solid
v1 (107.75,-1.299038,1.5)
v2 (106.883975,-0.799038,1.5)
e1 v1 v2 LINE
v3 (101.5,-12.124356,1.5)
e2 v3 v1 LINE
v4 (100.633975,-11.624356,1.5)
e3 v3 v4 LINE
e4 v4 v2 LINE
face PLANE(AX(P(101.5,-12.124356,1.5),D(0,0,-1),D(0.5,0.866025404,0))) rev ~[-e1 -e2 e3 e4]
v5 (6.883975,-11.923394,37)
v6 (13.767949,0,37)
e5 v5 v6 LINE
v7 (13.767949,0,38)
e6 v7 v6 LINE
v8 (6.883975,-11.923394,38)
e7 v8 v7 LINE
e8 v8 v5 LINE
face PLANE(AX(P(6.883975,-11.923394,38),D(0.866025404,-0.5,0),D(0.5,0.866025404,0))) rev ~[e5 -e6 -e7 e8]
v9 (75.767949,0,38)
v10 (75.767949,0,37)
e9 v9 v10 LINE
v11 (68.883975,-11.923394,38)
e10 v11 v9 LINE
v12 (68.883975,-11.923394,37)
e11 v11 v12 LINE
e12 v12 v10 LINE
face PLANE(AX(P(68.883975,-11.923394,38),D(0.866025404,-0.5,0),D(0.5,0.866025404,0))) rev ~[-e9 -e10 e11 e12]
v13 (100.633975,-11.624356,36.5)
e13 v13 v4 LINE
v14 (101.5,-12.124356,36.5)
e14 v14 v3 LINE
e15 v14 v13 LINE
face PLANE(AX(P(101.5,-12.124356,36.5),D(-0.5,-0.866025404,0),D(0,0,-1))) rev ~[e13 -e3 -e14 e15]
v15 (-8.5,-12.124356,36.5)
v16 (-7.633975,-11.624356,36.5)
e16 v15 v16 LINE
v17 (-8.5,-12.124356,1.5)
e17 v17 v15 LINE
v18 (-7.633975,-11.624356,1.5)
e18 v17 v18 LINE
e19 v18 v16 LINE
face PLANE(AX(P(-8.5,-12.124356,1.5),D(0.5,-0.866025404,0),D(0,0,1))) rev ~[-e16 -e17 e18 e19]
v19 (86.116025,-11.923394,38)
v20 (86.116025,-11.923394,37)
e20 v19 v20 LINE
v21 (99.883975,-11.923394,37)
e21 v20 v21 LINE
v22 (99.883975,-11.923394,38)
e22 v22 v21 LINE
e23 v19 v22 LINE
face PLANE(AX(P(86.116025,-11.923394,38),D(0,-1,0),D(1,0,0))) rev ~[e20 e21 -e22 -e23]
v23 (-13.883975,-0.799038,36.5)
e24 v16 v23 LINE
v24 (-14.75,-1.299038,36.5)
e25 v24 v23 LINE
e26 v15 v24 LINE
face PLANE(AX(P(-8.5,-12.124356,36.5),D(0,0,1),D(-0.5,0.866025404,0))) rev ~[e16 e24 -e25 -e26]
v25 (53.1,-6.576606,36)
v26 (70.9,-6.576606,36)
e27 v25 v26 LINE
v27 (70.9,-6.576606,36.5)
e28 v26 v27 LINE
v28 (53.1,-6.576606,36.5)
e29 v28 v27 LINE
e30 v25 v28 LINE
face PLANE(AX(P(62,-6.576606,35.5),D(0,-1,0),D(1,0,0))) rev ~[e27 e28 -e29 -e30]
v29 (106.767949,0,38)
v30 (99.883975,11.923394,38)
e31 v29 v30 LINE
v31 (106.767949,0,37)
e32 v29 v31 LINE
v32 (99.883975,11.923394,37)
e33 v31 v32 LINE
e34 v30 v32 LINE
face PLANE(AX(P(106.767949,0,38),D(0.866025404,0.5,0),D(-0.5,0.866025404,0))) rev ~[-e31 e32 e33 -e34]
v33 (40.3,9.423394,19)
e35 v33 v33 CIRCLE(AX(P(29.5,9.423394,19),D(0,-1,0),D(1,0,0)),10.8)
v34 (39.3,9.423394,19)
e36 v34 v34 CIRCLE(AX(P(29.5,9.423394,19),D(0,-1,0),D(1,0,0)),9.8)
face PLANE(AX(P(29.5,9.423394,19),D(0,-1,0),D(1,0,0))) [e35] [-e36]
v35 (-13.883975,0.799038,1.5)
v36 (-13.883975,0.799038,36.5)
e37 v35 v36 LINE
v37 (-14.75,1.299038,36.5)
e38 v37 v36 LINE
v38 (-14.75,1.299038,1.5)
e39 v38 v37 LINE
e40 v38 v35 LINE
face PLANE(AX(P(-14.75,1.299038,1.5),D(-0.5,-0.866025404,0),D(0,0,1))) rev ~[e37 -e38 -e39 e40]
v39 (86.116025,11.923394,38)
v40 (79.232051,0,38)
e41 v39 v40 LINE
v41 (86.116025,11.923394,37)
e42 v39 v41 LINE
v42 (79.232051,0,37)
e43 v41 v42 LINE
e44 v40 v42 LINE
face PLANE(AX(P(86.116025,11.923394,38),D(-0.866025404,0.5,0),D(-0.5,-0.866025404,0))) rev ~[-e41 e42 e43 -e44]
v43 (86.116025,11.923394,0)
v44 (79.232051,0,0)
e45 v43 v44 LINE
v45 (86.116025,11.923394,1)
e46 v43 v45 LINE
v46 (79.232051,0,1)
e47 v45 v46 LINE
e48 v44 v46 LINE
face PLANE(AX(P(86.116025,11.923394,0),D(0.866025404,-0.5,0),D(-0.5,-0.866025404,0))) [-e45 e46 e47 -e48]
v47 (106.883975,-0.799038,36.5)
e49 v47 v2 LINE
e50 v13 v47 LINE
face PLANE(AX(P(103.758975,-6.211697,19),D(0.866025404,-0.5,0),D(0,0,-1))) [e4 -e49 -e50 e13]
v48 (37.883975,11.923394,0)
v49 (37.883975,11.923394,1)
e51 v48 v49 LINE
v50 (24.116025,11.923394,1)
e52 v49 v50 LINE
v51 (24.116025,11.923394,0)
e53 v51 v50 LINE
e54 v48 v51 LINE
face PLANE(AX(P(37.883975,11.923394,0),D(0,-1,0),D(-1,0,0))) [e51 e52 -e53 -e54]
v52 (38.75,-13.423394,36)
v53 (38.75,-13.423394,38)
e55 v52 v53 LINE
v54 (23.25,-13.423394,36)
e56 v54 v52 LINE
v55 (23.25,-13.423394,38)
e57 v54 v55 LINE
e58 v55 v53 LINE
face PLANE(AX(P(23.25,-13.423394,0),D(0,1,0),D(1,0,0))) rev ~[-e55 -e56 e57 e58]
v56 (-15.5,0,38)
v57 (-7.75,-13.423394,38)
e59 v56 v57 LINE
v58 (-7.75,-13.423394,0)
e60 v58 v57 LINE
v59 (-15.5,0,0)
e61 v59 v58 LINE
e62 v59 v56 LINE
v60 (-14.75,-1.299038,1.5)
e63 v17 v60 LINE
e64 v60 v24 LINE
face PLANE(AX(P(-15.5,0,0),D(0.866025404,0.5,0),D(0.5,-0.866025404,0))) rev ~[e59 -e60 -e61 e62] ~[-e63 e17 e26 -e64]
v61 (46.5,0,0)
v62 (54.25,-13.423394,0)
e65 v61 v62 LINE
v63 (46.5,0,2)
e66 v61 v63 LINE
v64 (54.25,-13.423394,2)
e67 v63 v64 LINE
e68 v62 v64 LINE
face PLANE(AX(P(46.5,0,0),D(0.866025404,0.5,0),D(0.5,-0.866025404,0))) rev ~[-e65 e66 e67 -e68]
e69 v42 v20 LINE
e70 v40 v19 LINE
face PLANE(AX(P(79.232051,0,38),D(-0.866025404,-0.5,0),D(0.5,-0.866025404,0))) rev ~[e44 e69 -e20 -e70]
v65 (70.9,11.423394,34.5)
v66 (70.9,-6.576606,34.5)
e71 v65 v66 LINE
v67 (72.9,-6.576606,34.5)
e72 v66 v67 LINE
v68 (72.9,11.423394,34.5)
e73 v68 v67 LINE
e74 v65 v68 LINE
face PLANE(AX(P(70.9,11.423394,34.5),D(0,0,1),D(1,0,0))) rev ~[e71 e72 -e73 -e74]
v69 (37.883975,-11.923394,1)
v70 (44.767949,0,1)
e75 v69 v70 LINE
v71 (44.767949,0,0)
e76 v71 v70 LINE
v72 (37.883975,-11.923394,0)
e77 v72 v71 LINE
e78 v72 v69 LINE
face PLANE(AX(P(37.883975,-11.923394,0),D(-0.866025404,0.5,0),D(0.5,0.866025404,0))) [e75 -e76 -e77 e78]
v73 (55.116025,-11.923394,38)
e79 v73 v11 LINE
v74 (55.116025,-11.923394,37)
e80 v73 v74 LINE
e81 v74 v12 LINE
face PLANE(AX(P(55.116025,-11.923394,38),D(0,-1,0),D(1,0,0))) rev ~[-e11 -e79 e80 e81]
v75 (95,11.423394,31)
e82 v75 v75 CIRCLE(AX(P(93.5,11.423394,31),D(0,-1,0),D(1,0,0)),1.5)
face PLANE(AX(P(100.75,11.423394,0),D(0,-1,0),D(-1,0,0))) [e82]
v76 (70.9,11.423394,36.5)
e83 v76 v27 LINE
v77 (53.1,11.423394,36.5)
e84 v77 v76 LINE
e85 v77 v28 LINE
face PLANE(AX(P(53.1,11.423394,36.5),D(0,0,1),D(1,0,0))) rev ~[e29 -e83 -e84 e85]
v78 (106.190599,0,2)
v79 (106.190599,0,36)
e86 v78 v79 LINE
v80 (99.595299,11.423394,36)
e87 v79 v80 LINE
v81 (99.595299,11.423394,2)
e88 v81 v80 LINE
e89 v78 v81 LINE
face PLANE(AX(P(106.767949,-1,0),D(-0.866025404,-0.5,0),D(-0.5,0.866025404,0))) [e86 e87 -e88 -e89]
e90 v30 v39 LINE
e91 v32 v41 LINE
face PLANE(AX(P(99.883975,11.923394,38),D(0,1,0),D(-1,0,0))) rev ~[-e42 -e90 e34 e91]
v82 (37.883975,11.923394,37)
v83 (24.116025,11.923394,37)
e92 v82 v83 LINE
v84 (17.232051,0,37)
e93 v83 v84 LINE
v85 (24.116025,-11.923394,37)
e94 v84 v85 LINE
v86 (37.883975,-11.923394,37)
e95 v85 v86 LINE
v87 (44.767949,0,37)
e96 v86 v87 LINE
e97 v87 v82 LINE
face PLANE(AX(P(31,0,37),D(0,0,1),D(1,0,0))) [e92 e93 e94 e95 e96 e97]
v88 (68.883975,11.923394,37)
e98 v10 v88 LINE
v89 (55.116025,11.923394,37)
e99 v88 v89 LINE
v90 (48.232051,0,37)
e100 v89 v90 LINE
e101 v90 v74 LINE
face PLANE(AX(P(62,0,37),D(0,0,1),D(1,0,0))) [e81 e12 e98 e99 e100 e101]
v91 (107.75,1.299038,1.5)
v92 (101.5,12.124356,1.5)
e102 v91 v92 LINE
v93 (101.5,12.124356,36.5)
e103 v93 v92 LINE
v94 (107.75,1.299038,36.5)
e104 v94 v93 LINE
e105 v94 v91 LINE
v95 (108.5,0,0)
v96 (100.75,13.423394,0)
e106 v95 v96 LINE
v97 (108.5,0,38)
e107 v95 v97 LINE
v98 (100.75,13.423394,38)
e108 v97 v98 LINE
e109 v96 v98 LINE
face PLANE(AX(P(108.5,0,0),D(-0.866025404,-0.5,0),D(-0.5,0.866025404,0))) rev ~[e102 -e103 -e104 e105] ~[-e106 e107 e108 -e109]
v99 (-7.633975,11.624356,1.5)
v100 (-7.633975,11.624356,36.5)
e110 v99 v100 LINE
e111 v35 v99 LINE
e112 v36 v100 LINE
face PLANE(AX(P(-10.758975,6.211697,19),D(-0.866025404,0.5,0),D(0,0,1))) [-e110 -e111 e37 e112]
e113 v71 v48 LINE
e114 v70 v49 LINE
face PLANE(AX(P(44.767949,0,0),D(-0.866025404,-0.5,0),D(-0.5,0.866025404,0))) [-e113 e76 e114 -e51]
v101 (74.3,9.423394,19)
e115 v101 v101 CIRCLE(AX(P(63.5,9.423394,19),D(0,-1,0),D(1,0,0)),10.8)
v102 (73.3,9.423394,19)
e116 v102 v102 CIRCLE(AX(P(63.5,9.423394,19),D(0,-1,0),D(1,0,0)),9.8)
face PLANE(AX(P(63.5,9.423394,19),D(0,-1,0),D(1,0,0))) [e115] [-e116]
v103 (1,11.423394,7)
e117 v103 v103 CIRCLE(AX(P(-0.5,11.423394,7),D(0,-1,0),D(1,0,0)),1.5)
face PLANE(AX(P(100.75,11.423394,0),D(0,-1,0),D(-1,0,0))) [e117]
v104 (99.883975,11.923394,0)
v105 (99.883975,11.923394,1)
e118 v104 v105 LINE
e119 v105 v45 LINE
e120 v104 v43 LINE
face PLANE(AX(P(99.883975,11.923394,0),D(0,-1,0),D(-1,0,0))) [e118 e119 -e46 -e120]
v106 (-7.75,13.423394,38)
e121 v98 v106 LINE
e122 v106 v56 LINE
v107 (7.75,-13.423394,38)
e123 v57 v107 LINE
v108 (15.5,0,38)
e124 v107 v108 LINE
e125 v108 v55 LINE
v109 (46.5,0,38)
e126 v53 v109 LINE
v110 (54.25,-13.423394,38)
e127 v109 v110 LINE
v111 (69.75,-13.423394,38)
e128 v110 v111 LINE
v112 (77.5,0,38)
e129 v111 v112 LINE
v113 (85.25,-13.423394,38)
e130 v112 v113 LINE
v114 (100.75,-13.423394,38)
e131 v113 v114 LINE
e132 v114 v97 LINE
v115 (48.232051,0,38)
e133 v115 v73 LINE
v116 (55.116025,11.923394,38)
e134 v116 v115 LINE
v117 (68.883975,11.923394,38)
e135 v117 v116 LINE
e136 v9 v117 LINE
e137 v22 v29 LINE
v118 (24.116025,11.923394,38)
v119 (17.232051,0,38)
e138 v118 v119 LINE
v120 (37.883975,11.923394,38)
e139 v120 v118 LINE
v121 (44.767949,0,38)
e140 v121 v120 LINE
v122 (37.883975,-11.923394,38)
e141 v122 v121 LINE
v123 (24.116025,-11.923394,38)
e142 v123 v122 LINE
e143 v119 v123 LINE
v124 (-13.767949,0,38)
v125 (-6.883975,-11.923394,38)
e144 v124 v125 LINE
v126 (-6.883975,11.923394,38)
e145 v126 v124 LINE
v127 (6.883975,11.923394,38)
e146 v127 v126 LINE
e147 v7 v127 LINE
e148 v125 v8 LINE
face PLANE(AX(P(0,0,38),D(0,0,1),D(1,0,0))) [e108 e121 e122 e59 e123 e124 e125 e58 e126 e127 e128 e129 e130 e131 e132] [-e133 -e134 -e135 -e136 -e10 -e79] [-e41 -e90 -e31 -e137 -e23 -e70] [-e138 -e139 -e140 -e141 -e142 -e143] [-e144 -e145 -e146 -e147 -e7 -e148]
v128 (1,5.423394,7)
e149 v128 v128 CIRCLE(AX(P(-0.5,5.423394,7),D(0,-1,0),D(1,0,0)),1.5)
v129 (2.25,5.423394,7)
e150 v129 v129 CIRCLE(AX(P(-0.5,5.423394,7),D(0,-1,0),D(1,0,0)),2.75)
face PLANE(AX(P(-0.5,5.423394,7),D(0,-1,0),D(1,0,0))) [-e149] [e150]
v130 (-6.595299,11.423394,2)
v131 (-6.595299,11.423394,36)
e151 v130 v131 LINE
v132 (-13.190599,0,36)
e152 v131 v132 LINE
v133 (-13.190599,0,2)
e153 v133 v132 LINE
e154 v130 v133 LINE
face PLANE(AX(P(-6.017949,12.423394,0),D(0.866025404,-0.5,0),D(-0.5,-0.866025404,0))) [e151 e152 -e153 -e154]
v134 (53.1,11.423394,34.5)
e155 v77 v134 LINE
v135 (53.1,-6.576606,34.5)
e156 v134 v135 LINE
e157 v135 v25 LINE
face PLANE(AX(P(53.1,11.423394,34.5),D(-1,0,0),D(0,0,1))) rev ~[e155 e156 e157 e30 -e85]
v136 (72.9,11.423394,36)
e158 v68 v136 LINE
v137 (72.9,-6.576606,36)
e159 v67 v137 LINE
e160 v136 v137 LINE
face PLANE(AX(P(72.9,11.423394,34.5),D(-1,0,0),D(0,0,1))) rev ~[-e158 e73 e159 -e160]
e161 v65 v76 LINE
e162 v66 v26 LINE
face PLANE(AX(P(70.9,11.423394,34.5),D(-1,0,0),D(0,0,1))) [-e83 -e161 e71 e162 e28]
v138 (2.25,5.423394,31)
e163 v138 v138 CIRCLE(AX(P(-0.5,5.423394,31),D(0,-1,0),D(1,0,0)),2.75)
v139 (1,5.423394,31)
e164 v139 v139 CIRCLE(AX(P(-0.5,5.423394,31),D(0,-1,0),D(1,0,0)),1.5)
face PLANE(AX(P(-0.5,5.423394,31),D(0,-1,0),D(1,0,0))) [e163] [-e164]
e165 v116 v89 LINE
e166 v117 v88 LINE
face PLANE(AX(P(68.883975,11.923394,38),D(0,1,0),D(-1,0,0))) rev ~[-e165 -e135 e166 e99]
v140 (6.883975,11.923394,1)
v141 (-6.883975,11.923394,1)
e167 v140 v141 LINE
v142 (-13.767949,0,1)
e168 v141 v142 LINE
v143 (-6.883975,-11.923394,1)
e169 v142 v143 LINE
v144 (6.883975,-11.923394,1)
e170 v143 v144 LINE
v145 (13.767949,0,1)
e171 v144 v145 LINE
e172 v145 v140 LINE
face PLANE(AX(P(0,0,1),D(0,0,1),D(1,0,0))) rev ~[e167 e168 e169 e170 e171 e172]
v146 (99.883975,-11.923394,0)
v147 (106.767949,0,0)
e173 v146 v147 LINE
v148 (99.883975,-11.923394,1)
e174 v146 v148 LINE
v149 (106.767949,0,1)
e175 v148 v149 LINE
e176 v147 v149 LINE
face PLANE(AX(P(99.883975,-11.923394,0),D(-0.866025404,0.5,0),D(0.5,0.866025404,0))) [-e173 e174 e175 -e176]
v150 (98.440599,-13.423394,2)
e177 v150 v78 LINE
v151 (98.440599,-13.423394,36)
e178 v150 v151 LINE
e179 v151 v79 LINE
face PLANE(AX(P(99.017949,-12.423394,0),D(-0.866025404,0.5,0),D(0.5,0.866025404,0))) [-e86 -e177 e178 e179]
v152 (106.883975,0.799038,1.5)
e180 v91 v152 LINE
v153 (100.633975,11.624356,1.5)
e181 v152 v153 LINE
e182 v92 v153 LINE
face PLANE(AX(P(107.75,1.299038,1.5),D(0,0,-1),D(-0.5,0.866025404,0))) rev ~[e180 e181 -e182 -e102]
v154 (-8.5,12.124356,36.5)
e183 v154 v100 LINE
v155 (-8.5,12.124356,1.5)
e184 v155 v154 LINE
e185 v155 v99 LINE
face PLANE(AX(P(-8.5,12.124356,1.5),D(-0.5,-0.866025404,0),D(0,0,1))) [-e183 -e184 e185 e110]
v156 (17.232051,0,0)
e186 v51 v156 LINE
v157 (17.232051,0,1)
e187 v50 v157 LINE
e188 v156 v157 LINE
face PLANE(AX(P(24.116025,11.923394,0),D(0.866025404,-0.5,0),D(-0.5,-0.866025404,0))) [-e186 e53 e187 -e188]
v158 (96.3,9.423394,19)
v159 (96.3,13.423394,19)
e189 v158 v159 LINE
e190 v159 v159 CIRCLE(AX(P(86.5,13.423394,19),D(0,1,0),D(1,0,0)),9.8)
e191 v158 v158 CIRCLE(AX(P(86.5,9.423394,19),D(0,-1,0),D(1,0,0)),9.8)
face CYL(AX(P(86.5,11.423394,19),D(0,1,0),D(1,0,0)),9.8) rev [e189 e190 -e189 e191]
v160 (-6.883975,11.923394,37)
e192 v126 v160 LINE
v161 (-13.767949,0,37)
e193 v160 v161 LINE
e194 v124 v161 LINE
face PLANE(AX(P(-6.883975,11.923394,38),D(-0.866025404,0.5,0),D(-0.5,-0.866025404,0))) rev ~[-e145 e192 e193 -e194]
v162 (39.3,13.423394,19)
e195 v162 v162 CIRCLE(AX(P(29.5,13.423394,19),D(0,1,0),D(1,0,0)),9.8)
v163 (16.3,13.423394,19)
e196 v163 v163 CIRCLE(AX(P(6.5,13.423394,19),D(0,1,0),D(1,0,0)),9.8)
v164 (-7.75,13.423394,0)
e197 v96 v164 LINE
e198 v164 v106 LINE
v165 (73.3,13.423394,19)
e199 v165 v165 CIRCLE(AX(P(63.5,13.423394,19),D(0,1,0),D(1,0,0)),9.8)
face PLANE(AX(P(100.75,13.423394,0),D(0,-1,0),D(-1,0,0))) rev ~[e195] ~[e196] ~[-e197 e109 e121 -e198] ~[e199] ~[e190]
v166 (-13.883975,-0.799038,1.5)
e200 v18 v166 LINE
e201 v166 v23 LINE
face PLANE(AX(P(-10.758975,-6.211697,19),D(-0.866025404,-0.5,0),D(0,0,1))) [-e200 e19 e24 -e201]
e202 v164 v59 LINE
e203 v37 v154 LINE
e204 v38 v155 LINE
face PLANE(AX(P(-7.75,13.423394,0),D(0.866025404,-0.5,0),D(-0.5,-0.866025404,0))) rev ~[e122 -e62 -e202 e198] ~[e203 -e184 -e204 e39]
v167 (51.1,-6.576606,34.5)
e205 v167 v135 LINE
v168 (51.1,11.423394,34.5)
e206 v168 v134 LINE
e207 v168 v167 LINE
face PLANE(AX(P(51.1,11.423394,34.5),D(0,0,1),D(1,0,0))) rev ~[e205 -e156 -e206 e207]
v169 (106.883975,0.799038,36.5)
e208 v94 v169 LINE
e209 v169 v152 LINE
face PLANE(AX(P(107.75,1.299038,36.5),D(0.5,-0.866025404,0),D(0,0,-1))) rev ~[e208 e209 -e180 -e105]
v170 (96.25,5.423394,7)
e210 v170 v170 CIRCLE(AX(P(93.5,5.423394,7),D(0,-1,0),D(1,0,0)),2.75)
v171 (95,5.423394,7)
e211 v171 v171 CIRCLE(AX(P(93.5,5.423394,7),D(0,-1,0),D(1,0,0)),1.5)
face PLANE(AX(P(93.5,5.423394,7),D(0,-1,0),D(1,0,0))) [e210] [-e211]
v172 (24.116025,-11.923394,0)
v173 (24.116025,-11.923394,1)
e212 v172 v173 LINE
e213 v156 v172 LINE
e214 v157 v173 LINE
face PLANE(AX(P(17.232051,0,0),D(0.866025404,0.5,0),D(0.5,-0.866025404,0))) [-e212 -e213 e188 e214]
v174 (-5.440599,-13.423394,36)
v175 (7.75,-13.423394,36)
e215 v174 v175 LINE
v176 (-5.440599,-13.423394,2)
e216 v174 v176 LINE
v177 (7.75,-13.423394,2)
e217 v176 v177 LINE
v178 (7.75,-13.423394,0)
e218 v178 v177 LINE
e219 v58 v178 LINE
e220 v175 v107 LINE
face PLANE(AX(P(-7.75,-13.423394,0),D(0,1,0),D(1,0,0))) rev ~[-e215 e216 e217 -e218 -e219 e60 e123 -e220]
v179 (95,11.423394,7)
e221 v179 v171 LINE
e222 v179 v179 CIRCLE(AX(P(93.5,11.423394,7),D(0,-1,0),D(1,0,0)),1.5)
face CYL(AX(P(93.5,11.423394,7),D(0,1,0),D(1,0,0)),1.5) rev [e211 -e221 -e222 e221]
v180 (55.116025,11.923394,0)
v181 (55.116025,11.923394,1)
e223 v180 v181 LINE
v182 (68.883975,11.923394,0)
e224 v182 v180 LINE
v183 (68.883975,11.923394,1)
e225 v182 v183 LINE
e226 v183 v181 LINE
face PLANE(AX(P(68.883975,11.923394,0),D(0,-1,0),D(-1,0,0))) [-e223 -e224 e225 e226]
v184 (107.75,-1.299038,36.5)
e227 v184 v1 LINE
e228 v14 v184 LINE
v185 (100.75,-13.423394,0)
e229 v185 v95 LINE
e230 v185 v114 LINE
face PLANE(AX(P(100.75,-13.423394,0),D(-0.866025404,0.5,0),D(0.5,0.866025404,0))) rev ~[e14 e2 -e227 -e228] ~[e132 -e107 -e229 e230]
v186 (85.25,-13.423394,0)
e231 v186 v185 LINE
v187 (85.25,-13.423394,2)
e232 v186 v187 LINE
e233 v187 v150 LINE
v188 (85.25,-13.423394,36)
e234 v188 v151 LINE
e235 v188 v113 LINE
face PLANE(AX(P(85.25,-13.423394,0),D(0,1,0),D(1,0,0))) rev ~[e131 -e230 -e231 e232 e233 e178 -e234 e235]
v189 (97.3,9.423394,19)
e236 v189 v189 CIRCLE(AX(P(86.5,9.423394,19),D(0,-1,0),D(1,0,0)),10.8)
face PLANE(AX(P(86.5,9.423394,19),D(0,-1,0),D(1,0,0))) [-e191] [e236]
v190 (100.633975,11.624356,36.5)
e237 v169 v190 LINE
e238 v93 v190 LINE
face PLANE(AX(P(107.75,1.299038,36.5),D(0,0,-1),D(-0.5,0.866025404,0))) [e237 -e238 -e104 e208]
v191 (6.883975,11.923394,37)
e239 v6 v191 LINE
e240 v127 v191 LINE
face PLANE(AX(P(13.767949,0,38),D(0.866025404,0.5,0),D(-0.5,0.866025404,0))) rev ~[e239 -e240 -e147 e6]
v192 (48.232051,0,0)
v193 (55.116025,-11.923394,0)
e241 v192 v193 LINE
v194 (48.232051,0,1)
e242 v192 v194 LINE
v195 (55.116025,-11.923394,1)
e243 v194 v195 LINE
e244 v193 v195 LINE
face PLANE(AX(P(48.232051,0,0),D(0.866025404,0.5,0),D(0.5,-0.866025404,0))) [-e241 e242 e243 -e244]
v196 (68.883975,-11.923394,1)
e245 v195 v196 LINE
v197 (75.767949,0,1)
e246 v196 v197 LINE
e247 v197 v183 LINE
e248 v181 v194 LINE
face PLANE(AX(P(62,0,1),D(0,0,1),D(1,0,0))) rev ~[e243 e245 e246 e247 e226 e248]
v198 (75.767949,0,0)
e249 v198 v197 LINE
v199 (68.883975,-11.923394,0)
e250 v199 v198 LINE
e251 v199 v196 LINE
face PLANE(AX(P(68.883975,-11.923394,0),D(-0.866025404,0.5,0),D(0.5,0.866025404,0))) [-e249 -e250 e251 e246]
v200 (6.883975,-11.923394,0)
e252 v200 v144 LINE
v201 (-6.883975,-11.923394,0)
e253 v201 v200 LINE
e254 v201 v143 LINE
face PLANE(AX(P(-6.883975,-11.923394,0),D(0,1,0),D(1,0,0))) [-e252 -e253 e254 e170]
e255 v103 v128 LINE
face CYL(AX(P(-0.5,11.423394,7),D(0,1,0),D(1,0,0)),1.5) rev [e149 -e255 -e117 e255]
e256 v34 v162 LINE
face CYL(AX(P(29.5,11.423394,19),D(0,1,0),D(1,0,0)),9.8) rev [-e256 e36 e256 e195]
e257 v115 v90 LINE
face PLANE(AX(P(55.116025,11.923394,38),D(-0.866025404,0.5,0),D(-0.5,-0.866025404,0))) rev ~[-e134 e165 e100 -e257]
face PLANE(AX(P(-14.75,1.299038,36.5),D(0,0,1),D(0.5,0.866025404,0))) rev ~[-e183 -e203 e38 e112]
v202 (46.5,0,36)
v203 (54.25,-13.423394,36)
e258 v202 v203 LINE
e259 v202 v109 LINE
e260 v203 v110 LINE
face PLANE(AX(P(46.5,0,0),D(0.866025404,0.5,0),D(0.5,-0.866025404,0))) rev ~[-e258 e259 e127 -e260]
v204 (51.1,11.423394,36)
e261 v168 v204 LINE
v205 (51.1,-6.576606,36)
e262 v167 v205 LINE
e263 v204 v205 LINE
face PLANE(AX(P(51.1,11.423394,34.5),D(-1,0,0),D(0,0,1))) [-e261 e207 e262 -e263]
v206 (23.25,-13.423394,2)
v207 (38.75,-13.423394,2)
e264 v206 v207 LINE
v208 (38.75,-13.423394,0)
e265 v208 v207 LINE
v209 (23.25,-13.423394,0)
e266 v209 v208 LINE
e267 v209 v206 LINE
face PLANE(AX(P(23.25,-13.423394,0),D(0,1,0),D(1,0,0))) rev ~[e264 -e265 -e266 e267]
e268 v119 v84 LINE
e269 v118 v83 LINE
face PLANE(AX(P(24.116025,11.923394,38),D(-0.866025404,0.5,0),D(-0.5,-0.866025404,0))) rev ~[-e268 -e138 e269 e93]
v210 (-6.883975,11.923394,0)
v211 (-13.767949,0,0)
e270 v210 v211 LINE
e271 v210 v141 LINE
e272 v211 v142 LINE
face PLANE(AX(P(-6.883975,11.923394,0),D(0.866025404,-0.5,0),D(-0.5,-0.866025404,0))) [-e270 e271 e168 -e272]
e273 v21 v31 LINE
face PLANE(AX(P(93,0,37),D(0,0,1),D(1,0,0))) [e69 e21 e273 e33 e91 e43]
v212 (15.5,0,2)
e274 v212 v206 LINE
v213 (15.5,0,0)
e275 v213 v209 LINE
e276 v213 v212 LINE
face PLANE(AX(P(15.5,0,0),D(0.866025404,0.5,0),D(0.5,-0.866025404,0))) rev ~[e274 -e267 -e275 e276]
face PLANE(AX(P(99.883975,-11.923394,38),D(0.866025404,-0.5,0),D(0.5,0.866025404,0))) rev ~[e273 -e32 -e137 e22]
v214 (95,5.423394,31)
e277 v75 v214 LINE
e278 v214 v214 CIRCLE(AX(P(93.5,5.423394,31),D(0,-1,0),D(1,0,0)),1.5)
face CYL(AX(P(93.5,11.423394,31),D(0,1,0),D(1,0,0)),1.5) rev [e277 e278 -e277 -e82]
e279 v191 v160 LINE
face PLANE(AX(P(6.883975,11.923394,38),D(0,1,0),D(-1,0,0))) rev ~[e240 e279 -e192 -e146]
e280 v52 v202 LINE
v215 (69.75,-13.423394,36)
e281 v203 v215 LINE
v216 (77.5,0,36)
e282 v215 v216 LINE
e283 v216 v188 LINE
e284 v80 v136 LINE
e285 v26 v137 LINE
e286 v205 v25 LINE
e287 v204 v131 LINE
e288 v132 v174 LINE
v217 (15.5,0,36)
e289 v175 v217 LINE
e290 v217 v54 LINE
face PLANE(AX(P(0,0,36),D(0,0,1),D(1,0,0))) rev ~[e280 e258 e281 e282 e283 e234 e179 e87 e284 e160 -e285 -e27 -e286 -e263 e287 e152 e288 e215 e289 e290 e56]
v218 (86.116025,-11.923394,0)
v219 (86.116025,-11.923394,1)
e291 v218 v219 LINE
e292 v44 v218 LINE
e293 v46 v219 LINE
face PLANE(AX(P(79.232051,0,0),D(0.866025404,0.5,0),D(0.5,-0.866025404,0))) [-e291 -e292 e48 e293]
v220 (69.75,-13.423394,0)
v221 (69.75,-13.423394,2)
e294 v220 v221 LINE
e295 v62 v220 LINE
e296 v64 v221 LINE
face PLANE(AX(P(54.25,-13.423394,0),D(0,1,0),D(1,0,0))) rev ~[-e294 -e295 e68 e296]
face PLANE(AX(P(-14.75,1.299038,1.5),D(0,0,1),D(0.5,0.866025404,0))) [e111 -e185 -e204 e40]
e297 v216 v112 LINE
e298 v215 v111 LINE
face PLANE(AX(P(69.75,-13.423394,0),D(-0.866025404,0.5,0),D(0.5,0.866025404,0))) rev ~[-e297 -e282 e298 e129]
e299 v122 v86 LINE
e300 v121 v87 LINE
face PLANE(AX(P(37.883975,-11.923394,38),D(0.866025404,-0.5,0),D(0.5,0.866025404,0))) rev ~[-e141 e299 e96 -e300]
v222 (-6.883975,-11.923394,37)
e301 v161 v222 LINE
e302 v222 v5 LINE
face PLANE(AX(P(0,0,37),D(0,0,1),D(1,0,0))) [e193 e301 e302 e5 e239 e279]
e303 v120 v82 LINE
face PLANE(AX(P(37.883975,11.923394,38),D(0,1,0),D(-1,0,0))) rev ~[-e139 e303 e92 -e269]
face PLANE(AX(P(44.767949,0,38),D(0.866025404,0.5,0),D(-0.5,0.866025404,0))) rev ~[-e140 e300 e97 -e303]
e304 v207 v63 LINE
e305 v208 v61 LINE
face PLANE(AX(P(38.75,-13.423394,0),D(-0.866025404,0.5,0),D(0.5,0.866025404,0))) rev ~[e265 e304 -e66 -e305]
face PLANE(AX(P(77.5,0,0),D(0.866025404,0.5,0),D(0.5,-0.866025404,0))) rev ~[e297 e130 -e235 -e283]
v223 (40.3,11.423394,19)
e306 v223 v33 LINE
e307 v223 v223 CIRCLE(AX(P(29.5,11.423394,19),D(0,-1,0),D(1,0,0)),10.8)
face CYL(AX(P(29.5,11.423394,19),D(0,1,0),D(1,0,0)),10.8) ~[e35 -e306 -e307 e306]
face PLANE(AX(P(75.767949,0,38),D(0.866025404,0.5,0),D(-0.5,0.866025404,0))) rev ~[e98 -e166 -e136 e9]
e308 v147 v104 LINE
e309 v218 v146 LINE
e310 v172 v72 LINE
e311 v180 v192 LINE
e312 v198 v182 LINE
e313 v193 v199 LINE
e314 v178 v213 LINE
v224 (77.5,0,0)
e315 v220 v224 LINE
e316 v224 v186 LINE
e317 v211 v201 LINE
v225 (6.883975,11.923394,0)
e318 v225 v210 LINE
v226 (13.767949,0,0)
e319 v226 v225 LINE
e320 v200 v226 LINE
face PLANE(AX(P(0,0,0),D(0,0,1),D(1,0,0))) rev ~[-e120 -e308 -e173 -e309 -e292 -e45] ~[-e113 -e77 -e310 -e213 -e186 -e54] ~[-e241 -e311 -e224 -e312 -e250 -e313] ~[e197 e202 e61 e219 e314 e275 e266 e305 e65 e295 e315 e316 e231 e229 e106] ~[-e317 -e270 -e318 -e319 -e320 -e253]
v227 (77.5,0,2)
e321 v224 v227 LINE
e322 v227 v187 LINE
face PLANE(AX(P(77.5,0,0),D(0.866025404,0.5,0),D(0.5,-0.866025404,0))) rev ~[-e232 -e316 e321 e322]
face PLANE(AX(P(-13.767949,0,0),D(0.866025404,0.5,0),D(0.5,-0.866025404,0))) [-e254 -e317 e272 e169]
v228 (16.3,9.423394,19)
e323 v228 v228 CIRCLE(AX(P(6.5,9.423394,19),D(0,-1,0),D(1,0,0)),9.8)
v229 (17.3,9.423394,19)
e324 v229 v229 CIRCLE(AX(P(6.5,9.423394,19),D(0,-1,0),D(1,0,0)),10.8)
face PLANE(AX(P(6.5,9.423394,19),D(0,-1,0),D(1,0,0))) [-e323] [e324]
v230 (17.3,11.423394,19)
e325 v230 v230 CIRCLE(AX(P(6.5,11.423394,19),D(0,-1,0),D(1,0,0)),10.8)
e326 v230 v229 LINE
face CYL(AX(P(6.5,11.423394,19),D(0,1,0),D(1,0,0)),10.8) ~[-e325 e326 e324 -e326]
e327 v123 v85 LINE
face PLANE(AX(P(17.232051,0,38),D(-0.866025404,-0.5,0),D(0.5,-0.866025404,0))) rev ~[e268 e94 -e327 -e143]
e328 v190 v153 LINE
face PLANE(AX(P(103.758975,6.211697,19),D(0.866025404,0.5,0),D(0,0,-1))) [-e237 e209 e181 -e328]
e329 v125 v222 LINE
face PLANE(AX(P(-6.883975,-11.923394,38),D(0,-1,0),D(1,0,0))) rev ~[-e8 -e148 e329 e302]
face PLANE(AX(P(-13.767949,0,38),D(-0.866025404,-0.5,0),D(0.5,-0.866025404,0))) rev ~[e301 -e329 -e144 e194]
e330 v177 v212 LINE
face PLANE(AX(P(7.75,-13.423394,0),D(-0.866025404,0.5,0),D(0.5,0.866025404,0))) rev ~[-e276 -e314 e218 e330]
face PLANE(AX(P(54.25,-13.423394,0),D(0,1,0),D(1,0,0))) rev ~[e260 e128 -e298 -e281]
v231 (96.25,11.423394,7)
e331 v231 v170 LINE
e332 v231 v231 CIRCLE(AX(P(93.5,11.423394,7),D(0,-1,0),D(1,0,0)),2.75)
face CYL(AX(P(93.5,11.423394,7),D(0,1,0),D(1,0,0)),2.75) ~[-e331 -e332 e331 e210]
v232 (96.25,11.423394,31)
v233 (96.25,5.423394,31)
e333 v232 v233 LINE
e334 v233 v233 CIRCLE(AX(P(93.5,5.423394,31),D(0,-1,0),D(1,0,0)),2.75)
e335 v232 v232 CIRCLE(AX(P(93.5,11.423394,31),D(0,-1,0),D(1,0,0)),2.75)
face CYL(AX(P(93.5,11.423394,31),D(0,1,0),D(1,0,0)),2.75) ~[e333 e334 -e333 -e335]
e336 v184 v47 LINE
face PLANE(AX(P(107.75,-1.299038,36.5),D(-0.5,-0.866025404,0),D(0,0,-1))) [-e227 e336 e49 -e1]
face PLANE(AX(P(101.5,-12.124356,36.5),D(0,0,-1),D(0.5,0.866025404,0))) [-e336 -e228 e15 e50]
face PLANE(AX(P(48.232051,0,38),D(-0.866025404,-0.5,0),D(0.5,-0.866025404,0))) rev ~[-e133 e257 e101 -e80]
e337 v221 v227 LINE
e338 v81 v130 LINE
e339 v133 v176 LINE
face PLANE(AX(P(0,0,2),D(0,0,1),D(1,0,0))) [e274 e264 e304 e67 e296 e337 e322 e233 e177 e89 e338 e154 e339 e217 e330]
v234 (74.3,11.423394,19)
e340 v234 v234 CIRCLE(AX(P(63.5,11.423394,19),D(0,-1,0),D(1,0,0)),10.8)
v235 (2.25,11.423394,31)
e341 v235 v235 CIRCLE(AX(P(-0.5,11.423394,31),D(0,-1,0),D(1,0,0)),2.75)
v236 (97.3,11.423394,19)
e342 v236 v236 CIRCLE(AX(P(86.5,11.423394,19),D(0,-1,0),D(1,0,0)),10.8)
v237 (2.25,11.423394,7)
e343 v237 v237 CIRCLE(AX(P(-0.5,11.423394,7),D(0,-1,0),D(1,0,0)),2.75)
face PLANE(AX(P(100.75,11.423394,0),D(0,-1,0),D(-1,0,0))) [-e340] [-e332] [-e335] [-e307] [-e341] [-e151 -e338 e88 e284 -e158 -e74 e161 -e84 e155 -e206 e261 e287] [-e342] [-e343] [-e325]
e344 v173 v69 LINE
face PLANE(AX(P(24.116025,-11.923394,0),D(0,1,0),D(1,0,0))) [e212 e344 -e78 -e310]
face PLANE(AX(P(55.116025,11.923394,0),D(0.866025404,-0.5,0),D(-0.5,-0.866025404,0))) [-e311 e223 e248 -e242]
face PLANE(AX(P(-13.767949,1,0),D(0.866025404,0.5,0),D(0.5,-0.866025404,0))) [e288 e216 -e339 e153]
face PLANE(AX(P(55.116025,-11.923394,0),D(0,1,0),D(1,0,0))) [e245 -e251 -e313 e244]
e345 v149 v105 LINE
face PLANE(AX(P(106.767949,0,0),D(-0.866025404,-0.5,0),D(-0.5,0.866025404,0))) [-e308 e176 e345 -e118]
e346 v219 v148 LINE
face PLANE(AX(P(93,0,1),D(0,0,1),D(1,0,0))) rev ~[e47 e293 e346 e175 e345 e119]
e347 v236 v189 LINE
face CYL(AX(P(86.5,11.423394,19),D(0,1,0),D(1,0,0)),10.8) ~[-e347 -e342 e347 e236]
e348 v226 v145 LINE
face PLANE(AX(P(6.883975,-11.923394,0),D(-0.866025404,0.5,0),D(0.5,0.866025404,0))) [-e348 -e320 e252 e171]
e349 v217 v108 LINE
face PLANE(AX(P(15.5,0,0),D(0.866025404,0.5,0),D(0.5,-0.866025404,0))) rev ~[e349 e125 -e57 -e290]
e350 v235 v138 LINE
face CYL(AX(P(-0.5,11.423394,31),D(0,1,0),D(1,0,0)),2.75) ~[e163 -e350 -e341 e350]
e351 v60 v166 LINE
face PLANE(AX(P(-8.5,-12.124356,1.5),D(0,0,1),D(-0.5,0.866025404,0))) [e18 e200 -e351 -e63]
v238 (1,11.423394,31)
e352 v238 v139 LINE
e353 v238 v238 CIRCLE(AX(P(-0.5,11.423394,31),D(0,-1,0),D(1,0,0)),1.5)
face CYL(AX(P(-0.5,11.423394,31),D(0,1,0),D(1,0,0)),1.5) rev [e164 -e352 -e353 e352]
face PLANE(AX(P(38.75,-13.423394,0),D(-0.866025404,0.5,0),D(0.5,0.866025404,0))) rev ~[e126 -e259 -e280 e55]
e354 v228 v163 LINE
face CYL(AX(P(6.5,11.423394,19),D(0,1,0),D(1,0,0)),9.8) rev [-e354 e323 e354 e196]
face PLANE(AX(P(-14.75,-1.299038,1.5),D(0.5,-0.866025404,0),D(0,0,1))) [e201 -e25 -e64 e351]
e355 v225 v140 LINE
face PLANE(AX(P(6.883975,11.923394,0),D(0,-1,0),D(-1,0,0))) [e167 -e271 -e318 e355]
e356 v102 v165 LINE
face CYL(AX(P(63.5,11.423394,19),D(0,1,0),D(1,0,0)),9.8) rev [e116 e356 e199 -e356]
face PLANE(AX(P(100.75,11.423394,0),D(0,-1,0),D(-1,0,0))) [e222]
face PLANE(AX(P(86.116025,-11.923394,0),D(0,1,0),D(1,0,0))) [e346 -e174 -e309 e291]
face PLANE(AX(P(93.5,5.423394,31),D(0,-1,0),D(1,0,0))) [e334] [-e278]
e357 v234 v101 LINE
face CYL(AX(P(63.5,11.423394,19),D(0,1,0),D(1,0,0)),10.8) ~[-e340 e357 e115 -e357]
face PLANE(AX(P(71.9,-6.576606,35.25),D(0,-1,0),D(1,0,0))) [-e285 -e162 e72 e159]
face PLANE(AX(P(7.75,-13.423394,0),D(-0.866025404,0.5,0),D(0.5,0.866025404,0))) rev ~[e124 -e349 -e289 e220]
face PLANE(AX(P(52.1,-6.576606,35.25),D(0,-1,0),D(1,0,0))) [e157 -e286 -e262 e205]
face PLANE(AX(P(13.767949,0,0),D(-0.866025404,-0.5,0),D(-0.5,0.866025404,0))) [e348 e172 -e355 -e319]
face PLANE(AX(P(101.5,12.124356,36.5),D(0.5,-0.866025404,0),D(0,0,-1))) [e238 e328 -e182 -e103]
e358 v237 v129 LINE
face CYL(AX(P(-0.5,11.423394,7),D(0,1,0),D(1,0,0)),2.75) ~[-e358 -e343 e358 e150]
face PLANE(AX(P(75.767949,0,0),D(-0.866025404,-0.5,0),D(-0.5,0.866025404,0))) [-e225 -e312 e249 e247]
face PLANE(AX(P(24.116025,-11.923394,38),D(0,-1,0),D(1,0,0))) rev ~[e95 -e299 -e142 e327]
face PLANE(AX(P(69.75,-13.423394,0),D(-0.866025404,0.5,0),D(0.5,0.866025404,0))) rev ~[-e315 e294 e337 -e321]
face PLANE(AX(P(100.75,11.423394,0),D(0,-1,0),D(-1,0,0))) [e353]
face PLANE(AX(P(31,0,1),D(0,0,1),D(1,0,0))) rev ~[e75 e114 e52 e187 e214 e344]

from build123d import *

# Parameters (mm, degrees)
BOSS_EXTRUDE1_DEPTH = 38
SHELL2_T            = -2
CUT_EXTRUDE2_DEPTH  = 1
CUT_EXTRUDE3_START  = -38
CUT_EXTRUDE3_DEPTH  = 1
SKETCH4_W           = 35
SKETCH4_H           = 12.5
CUT_EXTRUDE4_DEPTH  = 1
SKETCH5_W           = 35
SKETCH5_H           = 12.5
CUT_EXTRUDE5_DEPTH  = 1
SKETCH7_W           = 35
SKETCH7_H           = 12.5
CUT_EXTRUDE7_DEPTH  = 1
SKETCH8_W           = 35
SKETCH8_H           = 12.5
CUT_EXTRUDE8_DEPTH  = 1
SKETCH6_R           = 9.8
CUT_EXTRUDE6_DEPTH  = 10
SKETCH9_R           = 2.75
SKETCH9_R_2         = 1.5
BOSS_EXTRUDE2_DEPTH = 6
SKETCH11_W          = 2
SKETCH11_H          = 1.5
BOSS_EXTRUDE5_DEPTH = 18
SKETCH12_W          = 17.8
SKETCH12_H          = 2
CUT_EXTRUDE9_DEPTH  = 18
SKETCH14_R          = 10.8
SKETCH14_R_2        = 9.8
BOSS_EXTRUDE6_DEPTH = 2


with BuildPart() as part:
    # Sketch1 → Boss-Extrude1 (new body)
    with BuildSketch(Plane.XY):
        Polygon((-7.75, -13.423393759), (7.75, -13.423393759), (15.5, 0), (7.75, 13.423393759), (-7.75, 13.423393759), (-15.5, 0), align=None)
        Polygon((23.25, 13.423393759), (15.5, 0), (7.75, 13.423393759), align=None)
        Polygon((38.75, 13.423393759), (23.25, 13.423393759), (15.5, 0), (23.25, -13.423393759), (38.75, -13.423393759), (46.5, 0), align=None)
        Polygon((38.75, 13.423393759), (54.25, 13.423393759), (46.5, 0), align=None)
        Polygon((69.75, 13.423393759), (54.25, 13.423393759), (46.5, 0), (54.25, -13.423393759), (69.75, -13.423393759), (77.5, 0), align=None)
        Polygon((69.75, 13.423393759), (85.25, 13.423393759), (77.5, 0), align=None)
        Polygon((100.75, 13.423393759), (85.25, 13.423393759), (77.5, 0), (85.25, -13.423393759), (100.75, -13.423393759), (108.5, 0), align=None)
    extrude(amount=BOSS_EXTRUDE1_DEPTH)

    # Shell2
    shell2_openings = [part.faces().sort_by_distance(p)[0] for p in [
        (93, -13.423393759, 19),
        (81.375, -6.711696879, 19),
        (73.625, -6.711696879, 19),
        (62, -13.423393759, 19),
        (50.375, -6.711696879, 19),
        (42.625, -6.711696879, 19),
        (31, -13.423393759, 19),
        (19.375, -6.711696879, 19),
        (11.625, -6.711696879, 19),
        (0, -13.423393759, 19),
    ]]
    offset(amount=SHELL2_T, openings=shell2_openings, kind=Kind.INTERSECTION)

    # Sketch3 → Cut-Extrude2 (cut)
    with BuildSketch(Plane.XY.offset(38)):
        Polygon((13.767949192, 0), (6.883974596, 11.923393759), (-6.883974596, 11.923393759), (-13.767949192, 0), (-6.883974596, -11.923393759), (6.883974596, -11.923393759), align=None)
        Polygon((44.767949192, 0), (37.883974596, 11.923393759), (24.116025404, 11.923393759), (17.232050808, 0), (24.116025404, -11.923393759), (37.883974596, -11.923393759), align=None)
        Polygon((75.767949192, 0), (68.883974596, 11.923393759), (55.116025404, 11.923393759), (48.232050808, 0), (55.116025404, -11.923393759), (68.883974596, -11.923393759), align=None)
        Polygon((106.767949192, 0), (99.883974596, 11.923393759), (86.116025404, 11.923393759), (79.232050808, 0), (86.116025404, -11.923393759), (99.883974596, -11.923393759), align=None)
    extrude(amount=-CUT_EXTRUDE2_DEPTH, mode=Mode.SUBTRACT)

    # Sketch3<2> → Cut-Extrude3 (cut)
    with BuildSketch(Plane.XY.offset(38).offset(CUT_EXTRUDE3_START)):
        Polygon((13.767949192, 0), (6.883974596, 11.923393759), (-6.883974596, 11.923393759), (-13.767949192, 0), (-6.883974596, -11.923393759), (6.883974596, -11.923393759), align=None)
        Polygon((44.767949192, 0), (37.883974596, 11.923393759), (24.116025404, 11.923393759), (17.232050808, 0), (24.116025404, -11.923393759), (37.883974596, -11.923393759), align=None)
        Polygon((75.767949192, 0), (68.883974596, 11.923393759), (55.116025404, 11.923393759), (48.232050808, 0), (55.116025404, -11.923393759), (68.883974596, -11.923393759), align=None)
        Polygon((106.767949192, 0), (99.883974596, 11.923393759), (86.116025404, 11.923393759), (79.232050808, 0), (86.116025404, -11.923393759), (99.883974596, -11.923393759), align=None)
    extrude(amount=CUT_EXTRUDE3_DEPTH, mode=Mode.SUBTRACT)

    # Sketch4 → Cut-Extrude4 (cut)
    with BuildSketch(Plane(origin=(81.375, 46.981878155, 0), x_dir=(0, 0, -1), z_dir=(0.866025404, 0.5, 0))):
        with Locations((-19, -46.5)):
            Rectangle(SKETCH4_W, SKETCH4_H)
    extrude(amount=-CUT_EXTRUDE4_DEPTH, mode=Mode.SUBTRACT)

    # Sketch5 → Cut-Extrude5 (cut)
    with BuildSketch(Plane(origin=(-11.625, 6.711696879, 0), x_dir=(0, 0, 1), z_dir=(-0.866025404, 0.5, 0))):
        with Locations((19, 0)):
            Rectangle(SKETCH5_W, SKETCH5_H)
    extrude(amount=-CUT_EXTRUDE5_DEPTH, mode=Mode.SUBTRACT)

    # Sketch7 → Cut-Extrude7 (cut)
    with BuildSketch(Plane(origin=(-11.625, -6.711696879, 0), x_dir=(0, 0, 1), z_dir=(-0.866025404, -0.5, 0))):
        with Locations((19, 0)):
            Rectangle(SKETCH7_W, SKETCH7_H)
    extrude(amount=-CUT_EXTRUDE7_DEPTH, mode=Mode.SUBTRACT)

    # Sketch8 → Cut-Extrude8 (cut)
    with BuildSketch(Plane(origin=(81.375, -46.981878155, 0), x_dir=(0, 0, -1), z_dir=(0.866025404, -0.5, 0))):
        with Locations((-19, 46.5)):
            Rectangle(SKETCH8_W, SKETCH8_H)
    extrude(amount=-CUT_EXTRUDE8_DEPTH, mode=Mode.SUBTRACT)

    # Sketch6 → Cut-Extrude6 (cut)
    with BuildSketch(Plane(origin=(0, 13.423393759, 0), x_dir=(1, 0, 0), z_dir=(0, 1, 0))):
        with Locations((6.5, -19)):
            Circle(SKETCH6_R)
        with Locations((29.5, -19)):
            Circle(SKETCH6_R)
        with Locations((63.5, -19)):
            Circle(SKETCH6_R)
        with Locations((86.5, -19)):
            Circle(SKETCH6_R)
    extrude(amount=-CUT_EXTRUDE6_DEPTH, mode=Mode.SUBTRACT)

    # Sketch9 → Boss-Extrude2 (add)
    with BuildSketch(Plane.XZ.offset(-11.423393759)):
        with Locations((-0.5, 31)):
            Circle(SKETCH9_R)
        with Locations((-0.5, 31)):
            Circle(SKETCH9_R_2, mode=Mode.SUBTRACT)
        with Locations((-0.5, 7)):
            Circle(SKETCH9_R)
        with Locations((-0.5, 7)):
            Circle(SKETCH9_R_2, mode=Mode.SUBTRACT)
        with Locations((93.5, 31)):
            Circle(SKETCH9_R)
        with Locations((93.5, 31)):
            Circle(SKETCH9_R_2, mode=Mode.SUBTRACT)
        with Locations((93.5, 7)):
            Circle(SKETCH9_R)
        with Locations((93.5, 7)):
            Circle(SKETCH9_R_2, mode=Mode.SUBTRACT)
    extrude(amount=BOSS_EXTRUDE2_DEPTH)

    # Sketch11 → Boss-Extrude5 (add)
    with BuildSketch(Plane.XZ.offset(-11.423393759)):
        with Locations((52.1, 35.25)):
            Rectangle(SKETCH11_W, SKETCH11_H)
        with Locations((71.9, 35.25)):
            Rectangle(SKETCH11_W, SKETCH11_H)
    extrude(amount=BOSS_EXTRUDE5_DEPTH)

    # Sketch12 → Cut-Extrude9 (cut)
    with BuildSketch(Plane.XZ.offset(-11.423393759)):
        with Locations((62, 35.5)):
            Rectangle(SKETCH12_W, SKETCH12_H)
    extrude(amount=CUT_EXTRUDE9_DEPTH, mode=Mode.SUBTRACT)

    # Sketch14 → Boss-Extrude6 (add)
    with BuildSketch(Plane.XZ.offset(-11.423393759)):
        with Locations((6.5, 19)):
            Circle(SKETCH14_R)
        with Locations((6.5, 19)):
            Circle(SKETCH14_R_2, mode=Mode.SUBTRACT)
        with Locations((29.5, 19)):
            Circle(SKETCH14_R)
        with Locations((29.5, 19)):
            Circle(SKETCH14_R_2, mode=Mode.SUBTRACT)
        with Locations((63.5, 19)):
            Circle(SKETCH14_R)
        with Locations((63.5, 19)):
            Circle(SKETCH14_R_2, mode=Mode.SUBTRACT)
        with Locations((86.5, 19)):
            Circle(SKETCH14_R)
        with Locations((86.5, 19)):
            Circle(SKETCH14_R_2, mode=Mode.SUBTRACT)
    extrude(amount=BOSS_EXTRUDE6_DEPTH)


solid = part.part
